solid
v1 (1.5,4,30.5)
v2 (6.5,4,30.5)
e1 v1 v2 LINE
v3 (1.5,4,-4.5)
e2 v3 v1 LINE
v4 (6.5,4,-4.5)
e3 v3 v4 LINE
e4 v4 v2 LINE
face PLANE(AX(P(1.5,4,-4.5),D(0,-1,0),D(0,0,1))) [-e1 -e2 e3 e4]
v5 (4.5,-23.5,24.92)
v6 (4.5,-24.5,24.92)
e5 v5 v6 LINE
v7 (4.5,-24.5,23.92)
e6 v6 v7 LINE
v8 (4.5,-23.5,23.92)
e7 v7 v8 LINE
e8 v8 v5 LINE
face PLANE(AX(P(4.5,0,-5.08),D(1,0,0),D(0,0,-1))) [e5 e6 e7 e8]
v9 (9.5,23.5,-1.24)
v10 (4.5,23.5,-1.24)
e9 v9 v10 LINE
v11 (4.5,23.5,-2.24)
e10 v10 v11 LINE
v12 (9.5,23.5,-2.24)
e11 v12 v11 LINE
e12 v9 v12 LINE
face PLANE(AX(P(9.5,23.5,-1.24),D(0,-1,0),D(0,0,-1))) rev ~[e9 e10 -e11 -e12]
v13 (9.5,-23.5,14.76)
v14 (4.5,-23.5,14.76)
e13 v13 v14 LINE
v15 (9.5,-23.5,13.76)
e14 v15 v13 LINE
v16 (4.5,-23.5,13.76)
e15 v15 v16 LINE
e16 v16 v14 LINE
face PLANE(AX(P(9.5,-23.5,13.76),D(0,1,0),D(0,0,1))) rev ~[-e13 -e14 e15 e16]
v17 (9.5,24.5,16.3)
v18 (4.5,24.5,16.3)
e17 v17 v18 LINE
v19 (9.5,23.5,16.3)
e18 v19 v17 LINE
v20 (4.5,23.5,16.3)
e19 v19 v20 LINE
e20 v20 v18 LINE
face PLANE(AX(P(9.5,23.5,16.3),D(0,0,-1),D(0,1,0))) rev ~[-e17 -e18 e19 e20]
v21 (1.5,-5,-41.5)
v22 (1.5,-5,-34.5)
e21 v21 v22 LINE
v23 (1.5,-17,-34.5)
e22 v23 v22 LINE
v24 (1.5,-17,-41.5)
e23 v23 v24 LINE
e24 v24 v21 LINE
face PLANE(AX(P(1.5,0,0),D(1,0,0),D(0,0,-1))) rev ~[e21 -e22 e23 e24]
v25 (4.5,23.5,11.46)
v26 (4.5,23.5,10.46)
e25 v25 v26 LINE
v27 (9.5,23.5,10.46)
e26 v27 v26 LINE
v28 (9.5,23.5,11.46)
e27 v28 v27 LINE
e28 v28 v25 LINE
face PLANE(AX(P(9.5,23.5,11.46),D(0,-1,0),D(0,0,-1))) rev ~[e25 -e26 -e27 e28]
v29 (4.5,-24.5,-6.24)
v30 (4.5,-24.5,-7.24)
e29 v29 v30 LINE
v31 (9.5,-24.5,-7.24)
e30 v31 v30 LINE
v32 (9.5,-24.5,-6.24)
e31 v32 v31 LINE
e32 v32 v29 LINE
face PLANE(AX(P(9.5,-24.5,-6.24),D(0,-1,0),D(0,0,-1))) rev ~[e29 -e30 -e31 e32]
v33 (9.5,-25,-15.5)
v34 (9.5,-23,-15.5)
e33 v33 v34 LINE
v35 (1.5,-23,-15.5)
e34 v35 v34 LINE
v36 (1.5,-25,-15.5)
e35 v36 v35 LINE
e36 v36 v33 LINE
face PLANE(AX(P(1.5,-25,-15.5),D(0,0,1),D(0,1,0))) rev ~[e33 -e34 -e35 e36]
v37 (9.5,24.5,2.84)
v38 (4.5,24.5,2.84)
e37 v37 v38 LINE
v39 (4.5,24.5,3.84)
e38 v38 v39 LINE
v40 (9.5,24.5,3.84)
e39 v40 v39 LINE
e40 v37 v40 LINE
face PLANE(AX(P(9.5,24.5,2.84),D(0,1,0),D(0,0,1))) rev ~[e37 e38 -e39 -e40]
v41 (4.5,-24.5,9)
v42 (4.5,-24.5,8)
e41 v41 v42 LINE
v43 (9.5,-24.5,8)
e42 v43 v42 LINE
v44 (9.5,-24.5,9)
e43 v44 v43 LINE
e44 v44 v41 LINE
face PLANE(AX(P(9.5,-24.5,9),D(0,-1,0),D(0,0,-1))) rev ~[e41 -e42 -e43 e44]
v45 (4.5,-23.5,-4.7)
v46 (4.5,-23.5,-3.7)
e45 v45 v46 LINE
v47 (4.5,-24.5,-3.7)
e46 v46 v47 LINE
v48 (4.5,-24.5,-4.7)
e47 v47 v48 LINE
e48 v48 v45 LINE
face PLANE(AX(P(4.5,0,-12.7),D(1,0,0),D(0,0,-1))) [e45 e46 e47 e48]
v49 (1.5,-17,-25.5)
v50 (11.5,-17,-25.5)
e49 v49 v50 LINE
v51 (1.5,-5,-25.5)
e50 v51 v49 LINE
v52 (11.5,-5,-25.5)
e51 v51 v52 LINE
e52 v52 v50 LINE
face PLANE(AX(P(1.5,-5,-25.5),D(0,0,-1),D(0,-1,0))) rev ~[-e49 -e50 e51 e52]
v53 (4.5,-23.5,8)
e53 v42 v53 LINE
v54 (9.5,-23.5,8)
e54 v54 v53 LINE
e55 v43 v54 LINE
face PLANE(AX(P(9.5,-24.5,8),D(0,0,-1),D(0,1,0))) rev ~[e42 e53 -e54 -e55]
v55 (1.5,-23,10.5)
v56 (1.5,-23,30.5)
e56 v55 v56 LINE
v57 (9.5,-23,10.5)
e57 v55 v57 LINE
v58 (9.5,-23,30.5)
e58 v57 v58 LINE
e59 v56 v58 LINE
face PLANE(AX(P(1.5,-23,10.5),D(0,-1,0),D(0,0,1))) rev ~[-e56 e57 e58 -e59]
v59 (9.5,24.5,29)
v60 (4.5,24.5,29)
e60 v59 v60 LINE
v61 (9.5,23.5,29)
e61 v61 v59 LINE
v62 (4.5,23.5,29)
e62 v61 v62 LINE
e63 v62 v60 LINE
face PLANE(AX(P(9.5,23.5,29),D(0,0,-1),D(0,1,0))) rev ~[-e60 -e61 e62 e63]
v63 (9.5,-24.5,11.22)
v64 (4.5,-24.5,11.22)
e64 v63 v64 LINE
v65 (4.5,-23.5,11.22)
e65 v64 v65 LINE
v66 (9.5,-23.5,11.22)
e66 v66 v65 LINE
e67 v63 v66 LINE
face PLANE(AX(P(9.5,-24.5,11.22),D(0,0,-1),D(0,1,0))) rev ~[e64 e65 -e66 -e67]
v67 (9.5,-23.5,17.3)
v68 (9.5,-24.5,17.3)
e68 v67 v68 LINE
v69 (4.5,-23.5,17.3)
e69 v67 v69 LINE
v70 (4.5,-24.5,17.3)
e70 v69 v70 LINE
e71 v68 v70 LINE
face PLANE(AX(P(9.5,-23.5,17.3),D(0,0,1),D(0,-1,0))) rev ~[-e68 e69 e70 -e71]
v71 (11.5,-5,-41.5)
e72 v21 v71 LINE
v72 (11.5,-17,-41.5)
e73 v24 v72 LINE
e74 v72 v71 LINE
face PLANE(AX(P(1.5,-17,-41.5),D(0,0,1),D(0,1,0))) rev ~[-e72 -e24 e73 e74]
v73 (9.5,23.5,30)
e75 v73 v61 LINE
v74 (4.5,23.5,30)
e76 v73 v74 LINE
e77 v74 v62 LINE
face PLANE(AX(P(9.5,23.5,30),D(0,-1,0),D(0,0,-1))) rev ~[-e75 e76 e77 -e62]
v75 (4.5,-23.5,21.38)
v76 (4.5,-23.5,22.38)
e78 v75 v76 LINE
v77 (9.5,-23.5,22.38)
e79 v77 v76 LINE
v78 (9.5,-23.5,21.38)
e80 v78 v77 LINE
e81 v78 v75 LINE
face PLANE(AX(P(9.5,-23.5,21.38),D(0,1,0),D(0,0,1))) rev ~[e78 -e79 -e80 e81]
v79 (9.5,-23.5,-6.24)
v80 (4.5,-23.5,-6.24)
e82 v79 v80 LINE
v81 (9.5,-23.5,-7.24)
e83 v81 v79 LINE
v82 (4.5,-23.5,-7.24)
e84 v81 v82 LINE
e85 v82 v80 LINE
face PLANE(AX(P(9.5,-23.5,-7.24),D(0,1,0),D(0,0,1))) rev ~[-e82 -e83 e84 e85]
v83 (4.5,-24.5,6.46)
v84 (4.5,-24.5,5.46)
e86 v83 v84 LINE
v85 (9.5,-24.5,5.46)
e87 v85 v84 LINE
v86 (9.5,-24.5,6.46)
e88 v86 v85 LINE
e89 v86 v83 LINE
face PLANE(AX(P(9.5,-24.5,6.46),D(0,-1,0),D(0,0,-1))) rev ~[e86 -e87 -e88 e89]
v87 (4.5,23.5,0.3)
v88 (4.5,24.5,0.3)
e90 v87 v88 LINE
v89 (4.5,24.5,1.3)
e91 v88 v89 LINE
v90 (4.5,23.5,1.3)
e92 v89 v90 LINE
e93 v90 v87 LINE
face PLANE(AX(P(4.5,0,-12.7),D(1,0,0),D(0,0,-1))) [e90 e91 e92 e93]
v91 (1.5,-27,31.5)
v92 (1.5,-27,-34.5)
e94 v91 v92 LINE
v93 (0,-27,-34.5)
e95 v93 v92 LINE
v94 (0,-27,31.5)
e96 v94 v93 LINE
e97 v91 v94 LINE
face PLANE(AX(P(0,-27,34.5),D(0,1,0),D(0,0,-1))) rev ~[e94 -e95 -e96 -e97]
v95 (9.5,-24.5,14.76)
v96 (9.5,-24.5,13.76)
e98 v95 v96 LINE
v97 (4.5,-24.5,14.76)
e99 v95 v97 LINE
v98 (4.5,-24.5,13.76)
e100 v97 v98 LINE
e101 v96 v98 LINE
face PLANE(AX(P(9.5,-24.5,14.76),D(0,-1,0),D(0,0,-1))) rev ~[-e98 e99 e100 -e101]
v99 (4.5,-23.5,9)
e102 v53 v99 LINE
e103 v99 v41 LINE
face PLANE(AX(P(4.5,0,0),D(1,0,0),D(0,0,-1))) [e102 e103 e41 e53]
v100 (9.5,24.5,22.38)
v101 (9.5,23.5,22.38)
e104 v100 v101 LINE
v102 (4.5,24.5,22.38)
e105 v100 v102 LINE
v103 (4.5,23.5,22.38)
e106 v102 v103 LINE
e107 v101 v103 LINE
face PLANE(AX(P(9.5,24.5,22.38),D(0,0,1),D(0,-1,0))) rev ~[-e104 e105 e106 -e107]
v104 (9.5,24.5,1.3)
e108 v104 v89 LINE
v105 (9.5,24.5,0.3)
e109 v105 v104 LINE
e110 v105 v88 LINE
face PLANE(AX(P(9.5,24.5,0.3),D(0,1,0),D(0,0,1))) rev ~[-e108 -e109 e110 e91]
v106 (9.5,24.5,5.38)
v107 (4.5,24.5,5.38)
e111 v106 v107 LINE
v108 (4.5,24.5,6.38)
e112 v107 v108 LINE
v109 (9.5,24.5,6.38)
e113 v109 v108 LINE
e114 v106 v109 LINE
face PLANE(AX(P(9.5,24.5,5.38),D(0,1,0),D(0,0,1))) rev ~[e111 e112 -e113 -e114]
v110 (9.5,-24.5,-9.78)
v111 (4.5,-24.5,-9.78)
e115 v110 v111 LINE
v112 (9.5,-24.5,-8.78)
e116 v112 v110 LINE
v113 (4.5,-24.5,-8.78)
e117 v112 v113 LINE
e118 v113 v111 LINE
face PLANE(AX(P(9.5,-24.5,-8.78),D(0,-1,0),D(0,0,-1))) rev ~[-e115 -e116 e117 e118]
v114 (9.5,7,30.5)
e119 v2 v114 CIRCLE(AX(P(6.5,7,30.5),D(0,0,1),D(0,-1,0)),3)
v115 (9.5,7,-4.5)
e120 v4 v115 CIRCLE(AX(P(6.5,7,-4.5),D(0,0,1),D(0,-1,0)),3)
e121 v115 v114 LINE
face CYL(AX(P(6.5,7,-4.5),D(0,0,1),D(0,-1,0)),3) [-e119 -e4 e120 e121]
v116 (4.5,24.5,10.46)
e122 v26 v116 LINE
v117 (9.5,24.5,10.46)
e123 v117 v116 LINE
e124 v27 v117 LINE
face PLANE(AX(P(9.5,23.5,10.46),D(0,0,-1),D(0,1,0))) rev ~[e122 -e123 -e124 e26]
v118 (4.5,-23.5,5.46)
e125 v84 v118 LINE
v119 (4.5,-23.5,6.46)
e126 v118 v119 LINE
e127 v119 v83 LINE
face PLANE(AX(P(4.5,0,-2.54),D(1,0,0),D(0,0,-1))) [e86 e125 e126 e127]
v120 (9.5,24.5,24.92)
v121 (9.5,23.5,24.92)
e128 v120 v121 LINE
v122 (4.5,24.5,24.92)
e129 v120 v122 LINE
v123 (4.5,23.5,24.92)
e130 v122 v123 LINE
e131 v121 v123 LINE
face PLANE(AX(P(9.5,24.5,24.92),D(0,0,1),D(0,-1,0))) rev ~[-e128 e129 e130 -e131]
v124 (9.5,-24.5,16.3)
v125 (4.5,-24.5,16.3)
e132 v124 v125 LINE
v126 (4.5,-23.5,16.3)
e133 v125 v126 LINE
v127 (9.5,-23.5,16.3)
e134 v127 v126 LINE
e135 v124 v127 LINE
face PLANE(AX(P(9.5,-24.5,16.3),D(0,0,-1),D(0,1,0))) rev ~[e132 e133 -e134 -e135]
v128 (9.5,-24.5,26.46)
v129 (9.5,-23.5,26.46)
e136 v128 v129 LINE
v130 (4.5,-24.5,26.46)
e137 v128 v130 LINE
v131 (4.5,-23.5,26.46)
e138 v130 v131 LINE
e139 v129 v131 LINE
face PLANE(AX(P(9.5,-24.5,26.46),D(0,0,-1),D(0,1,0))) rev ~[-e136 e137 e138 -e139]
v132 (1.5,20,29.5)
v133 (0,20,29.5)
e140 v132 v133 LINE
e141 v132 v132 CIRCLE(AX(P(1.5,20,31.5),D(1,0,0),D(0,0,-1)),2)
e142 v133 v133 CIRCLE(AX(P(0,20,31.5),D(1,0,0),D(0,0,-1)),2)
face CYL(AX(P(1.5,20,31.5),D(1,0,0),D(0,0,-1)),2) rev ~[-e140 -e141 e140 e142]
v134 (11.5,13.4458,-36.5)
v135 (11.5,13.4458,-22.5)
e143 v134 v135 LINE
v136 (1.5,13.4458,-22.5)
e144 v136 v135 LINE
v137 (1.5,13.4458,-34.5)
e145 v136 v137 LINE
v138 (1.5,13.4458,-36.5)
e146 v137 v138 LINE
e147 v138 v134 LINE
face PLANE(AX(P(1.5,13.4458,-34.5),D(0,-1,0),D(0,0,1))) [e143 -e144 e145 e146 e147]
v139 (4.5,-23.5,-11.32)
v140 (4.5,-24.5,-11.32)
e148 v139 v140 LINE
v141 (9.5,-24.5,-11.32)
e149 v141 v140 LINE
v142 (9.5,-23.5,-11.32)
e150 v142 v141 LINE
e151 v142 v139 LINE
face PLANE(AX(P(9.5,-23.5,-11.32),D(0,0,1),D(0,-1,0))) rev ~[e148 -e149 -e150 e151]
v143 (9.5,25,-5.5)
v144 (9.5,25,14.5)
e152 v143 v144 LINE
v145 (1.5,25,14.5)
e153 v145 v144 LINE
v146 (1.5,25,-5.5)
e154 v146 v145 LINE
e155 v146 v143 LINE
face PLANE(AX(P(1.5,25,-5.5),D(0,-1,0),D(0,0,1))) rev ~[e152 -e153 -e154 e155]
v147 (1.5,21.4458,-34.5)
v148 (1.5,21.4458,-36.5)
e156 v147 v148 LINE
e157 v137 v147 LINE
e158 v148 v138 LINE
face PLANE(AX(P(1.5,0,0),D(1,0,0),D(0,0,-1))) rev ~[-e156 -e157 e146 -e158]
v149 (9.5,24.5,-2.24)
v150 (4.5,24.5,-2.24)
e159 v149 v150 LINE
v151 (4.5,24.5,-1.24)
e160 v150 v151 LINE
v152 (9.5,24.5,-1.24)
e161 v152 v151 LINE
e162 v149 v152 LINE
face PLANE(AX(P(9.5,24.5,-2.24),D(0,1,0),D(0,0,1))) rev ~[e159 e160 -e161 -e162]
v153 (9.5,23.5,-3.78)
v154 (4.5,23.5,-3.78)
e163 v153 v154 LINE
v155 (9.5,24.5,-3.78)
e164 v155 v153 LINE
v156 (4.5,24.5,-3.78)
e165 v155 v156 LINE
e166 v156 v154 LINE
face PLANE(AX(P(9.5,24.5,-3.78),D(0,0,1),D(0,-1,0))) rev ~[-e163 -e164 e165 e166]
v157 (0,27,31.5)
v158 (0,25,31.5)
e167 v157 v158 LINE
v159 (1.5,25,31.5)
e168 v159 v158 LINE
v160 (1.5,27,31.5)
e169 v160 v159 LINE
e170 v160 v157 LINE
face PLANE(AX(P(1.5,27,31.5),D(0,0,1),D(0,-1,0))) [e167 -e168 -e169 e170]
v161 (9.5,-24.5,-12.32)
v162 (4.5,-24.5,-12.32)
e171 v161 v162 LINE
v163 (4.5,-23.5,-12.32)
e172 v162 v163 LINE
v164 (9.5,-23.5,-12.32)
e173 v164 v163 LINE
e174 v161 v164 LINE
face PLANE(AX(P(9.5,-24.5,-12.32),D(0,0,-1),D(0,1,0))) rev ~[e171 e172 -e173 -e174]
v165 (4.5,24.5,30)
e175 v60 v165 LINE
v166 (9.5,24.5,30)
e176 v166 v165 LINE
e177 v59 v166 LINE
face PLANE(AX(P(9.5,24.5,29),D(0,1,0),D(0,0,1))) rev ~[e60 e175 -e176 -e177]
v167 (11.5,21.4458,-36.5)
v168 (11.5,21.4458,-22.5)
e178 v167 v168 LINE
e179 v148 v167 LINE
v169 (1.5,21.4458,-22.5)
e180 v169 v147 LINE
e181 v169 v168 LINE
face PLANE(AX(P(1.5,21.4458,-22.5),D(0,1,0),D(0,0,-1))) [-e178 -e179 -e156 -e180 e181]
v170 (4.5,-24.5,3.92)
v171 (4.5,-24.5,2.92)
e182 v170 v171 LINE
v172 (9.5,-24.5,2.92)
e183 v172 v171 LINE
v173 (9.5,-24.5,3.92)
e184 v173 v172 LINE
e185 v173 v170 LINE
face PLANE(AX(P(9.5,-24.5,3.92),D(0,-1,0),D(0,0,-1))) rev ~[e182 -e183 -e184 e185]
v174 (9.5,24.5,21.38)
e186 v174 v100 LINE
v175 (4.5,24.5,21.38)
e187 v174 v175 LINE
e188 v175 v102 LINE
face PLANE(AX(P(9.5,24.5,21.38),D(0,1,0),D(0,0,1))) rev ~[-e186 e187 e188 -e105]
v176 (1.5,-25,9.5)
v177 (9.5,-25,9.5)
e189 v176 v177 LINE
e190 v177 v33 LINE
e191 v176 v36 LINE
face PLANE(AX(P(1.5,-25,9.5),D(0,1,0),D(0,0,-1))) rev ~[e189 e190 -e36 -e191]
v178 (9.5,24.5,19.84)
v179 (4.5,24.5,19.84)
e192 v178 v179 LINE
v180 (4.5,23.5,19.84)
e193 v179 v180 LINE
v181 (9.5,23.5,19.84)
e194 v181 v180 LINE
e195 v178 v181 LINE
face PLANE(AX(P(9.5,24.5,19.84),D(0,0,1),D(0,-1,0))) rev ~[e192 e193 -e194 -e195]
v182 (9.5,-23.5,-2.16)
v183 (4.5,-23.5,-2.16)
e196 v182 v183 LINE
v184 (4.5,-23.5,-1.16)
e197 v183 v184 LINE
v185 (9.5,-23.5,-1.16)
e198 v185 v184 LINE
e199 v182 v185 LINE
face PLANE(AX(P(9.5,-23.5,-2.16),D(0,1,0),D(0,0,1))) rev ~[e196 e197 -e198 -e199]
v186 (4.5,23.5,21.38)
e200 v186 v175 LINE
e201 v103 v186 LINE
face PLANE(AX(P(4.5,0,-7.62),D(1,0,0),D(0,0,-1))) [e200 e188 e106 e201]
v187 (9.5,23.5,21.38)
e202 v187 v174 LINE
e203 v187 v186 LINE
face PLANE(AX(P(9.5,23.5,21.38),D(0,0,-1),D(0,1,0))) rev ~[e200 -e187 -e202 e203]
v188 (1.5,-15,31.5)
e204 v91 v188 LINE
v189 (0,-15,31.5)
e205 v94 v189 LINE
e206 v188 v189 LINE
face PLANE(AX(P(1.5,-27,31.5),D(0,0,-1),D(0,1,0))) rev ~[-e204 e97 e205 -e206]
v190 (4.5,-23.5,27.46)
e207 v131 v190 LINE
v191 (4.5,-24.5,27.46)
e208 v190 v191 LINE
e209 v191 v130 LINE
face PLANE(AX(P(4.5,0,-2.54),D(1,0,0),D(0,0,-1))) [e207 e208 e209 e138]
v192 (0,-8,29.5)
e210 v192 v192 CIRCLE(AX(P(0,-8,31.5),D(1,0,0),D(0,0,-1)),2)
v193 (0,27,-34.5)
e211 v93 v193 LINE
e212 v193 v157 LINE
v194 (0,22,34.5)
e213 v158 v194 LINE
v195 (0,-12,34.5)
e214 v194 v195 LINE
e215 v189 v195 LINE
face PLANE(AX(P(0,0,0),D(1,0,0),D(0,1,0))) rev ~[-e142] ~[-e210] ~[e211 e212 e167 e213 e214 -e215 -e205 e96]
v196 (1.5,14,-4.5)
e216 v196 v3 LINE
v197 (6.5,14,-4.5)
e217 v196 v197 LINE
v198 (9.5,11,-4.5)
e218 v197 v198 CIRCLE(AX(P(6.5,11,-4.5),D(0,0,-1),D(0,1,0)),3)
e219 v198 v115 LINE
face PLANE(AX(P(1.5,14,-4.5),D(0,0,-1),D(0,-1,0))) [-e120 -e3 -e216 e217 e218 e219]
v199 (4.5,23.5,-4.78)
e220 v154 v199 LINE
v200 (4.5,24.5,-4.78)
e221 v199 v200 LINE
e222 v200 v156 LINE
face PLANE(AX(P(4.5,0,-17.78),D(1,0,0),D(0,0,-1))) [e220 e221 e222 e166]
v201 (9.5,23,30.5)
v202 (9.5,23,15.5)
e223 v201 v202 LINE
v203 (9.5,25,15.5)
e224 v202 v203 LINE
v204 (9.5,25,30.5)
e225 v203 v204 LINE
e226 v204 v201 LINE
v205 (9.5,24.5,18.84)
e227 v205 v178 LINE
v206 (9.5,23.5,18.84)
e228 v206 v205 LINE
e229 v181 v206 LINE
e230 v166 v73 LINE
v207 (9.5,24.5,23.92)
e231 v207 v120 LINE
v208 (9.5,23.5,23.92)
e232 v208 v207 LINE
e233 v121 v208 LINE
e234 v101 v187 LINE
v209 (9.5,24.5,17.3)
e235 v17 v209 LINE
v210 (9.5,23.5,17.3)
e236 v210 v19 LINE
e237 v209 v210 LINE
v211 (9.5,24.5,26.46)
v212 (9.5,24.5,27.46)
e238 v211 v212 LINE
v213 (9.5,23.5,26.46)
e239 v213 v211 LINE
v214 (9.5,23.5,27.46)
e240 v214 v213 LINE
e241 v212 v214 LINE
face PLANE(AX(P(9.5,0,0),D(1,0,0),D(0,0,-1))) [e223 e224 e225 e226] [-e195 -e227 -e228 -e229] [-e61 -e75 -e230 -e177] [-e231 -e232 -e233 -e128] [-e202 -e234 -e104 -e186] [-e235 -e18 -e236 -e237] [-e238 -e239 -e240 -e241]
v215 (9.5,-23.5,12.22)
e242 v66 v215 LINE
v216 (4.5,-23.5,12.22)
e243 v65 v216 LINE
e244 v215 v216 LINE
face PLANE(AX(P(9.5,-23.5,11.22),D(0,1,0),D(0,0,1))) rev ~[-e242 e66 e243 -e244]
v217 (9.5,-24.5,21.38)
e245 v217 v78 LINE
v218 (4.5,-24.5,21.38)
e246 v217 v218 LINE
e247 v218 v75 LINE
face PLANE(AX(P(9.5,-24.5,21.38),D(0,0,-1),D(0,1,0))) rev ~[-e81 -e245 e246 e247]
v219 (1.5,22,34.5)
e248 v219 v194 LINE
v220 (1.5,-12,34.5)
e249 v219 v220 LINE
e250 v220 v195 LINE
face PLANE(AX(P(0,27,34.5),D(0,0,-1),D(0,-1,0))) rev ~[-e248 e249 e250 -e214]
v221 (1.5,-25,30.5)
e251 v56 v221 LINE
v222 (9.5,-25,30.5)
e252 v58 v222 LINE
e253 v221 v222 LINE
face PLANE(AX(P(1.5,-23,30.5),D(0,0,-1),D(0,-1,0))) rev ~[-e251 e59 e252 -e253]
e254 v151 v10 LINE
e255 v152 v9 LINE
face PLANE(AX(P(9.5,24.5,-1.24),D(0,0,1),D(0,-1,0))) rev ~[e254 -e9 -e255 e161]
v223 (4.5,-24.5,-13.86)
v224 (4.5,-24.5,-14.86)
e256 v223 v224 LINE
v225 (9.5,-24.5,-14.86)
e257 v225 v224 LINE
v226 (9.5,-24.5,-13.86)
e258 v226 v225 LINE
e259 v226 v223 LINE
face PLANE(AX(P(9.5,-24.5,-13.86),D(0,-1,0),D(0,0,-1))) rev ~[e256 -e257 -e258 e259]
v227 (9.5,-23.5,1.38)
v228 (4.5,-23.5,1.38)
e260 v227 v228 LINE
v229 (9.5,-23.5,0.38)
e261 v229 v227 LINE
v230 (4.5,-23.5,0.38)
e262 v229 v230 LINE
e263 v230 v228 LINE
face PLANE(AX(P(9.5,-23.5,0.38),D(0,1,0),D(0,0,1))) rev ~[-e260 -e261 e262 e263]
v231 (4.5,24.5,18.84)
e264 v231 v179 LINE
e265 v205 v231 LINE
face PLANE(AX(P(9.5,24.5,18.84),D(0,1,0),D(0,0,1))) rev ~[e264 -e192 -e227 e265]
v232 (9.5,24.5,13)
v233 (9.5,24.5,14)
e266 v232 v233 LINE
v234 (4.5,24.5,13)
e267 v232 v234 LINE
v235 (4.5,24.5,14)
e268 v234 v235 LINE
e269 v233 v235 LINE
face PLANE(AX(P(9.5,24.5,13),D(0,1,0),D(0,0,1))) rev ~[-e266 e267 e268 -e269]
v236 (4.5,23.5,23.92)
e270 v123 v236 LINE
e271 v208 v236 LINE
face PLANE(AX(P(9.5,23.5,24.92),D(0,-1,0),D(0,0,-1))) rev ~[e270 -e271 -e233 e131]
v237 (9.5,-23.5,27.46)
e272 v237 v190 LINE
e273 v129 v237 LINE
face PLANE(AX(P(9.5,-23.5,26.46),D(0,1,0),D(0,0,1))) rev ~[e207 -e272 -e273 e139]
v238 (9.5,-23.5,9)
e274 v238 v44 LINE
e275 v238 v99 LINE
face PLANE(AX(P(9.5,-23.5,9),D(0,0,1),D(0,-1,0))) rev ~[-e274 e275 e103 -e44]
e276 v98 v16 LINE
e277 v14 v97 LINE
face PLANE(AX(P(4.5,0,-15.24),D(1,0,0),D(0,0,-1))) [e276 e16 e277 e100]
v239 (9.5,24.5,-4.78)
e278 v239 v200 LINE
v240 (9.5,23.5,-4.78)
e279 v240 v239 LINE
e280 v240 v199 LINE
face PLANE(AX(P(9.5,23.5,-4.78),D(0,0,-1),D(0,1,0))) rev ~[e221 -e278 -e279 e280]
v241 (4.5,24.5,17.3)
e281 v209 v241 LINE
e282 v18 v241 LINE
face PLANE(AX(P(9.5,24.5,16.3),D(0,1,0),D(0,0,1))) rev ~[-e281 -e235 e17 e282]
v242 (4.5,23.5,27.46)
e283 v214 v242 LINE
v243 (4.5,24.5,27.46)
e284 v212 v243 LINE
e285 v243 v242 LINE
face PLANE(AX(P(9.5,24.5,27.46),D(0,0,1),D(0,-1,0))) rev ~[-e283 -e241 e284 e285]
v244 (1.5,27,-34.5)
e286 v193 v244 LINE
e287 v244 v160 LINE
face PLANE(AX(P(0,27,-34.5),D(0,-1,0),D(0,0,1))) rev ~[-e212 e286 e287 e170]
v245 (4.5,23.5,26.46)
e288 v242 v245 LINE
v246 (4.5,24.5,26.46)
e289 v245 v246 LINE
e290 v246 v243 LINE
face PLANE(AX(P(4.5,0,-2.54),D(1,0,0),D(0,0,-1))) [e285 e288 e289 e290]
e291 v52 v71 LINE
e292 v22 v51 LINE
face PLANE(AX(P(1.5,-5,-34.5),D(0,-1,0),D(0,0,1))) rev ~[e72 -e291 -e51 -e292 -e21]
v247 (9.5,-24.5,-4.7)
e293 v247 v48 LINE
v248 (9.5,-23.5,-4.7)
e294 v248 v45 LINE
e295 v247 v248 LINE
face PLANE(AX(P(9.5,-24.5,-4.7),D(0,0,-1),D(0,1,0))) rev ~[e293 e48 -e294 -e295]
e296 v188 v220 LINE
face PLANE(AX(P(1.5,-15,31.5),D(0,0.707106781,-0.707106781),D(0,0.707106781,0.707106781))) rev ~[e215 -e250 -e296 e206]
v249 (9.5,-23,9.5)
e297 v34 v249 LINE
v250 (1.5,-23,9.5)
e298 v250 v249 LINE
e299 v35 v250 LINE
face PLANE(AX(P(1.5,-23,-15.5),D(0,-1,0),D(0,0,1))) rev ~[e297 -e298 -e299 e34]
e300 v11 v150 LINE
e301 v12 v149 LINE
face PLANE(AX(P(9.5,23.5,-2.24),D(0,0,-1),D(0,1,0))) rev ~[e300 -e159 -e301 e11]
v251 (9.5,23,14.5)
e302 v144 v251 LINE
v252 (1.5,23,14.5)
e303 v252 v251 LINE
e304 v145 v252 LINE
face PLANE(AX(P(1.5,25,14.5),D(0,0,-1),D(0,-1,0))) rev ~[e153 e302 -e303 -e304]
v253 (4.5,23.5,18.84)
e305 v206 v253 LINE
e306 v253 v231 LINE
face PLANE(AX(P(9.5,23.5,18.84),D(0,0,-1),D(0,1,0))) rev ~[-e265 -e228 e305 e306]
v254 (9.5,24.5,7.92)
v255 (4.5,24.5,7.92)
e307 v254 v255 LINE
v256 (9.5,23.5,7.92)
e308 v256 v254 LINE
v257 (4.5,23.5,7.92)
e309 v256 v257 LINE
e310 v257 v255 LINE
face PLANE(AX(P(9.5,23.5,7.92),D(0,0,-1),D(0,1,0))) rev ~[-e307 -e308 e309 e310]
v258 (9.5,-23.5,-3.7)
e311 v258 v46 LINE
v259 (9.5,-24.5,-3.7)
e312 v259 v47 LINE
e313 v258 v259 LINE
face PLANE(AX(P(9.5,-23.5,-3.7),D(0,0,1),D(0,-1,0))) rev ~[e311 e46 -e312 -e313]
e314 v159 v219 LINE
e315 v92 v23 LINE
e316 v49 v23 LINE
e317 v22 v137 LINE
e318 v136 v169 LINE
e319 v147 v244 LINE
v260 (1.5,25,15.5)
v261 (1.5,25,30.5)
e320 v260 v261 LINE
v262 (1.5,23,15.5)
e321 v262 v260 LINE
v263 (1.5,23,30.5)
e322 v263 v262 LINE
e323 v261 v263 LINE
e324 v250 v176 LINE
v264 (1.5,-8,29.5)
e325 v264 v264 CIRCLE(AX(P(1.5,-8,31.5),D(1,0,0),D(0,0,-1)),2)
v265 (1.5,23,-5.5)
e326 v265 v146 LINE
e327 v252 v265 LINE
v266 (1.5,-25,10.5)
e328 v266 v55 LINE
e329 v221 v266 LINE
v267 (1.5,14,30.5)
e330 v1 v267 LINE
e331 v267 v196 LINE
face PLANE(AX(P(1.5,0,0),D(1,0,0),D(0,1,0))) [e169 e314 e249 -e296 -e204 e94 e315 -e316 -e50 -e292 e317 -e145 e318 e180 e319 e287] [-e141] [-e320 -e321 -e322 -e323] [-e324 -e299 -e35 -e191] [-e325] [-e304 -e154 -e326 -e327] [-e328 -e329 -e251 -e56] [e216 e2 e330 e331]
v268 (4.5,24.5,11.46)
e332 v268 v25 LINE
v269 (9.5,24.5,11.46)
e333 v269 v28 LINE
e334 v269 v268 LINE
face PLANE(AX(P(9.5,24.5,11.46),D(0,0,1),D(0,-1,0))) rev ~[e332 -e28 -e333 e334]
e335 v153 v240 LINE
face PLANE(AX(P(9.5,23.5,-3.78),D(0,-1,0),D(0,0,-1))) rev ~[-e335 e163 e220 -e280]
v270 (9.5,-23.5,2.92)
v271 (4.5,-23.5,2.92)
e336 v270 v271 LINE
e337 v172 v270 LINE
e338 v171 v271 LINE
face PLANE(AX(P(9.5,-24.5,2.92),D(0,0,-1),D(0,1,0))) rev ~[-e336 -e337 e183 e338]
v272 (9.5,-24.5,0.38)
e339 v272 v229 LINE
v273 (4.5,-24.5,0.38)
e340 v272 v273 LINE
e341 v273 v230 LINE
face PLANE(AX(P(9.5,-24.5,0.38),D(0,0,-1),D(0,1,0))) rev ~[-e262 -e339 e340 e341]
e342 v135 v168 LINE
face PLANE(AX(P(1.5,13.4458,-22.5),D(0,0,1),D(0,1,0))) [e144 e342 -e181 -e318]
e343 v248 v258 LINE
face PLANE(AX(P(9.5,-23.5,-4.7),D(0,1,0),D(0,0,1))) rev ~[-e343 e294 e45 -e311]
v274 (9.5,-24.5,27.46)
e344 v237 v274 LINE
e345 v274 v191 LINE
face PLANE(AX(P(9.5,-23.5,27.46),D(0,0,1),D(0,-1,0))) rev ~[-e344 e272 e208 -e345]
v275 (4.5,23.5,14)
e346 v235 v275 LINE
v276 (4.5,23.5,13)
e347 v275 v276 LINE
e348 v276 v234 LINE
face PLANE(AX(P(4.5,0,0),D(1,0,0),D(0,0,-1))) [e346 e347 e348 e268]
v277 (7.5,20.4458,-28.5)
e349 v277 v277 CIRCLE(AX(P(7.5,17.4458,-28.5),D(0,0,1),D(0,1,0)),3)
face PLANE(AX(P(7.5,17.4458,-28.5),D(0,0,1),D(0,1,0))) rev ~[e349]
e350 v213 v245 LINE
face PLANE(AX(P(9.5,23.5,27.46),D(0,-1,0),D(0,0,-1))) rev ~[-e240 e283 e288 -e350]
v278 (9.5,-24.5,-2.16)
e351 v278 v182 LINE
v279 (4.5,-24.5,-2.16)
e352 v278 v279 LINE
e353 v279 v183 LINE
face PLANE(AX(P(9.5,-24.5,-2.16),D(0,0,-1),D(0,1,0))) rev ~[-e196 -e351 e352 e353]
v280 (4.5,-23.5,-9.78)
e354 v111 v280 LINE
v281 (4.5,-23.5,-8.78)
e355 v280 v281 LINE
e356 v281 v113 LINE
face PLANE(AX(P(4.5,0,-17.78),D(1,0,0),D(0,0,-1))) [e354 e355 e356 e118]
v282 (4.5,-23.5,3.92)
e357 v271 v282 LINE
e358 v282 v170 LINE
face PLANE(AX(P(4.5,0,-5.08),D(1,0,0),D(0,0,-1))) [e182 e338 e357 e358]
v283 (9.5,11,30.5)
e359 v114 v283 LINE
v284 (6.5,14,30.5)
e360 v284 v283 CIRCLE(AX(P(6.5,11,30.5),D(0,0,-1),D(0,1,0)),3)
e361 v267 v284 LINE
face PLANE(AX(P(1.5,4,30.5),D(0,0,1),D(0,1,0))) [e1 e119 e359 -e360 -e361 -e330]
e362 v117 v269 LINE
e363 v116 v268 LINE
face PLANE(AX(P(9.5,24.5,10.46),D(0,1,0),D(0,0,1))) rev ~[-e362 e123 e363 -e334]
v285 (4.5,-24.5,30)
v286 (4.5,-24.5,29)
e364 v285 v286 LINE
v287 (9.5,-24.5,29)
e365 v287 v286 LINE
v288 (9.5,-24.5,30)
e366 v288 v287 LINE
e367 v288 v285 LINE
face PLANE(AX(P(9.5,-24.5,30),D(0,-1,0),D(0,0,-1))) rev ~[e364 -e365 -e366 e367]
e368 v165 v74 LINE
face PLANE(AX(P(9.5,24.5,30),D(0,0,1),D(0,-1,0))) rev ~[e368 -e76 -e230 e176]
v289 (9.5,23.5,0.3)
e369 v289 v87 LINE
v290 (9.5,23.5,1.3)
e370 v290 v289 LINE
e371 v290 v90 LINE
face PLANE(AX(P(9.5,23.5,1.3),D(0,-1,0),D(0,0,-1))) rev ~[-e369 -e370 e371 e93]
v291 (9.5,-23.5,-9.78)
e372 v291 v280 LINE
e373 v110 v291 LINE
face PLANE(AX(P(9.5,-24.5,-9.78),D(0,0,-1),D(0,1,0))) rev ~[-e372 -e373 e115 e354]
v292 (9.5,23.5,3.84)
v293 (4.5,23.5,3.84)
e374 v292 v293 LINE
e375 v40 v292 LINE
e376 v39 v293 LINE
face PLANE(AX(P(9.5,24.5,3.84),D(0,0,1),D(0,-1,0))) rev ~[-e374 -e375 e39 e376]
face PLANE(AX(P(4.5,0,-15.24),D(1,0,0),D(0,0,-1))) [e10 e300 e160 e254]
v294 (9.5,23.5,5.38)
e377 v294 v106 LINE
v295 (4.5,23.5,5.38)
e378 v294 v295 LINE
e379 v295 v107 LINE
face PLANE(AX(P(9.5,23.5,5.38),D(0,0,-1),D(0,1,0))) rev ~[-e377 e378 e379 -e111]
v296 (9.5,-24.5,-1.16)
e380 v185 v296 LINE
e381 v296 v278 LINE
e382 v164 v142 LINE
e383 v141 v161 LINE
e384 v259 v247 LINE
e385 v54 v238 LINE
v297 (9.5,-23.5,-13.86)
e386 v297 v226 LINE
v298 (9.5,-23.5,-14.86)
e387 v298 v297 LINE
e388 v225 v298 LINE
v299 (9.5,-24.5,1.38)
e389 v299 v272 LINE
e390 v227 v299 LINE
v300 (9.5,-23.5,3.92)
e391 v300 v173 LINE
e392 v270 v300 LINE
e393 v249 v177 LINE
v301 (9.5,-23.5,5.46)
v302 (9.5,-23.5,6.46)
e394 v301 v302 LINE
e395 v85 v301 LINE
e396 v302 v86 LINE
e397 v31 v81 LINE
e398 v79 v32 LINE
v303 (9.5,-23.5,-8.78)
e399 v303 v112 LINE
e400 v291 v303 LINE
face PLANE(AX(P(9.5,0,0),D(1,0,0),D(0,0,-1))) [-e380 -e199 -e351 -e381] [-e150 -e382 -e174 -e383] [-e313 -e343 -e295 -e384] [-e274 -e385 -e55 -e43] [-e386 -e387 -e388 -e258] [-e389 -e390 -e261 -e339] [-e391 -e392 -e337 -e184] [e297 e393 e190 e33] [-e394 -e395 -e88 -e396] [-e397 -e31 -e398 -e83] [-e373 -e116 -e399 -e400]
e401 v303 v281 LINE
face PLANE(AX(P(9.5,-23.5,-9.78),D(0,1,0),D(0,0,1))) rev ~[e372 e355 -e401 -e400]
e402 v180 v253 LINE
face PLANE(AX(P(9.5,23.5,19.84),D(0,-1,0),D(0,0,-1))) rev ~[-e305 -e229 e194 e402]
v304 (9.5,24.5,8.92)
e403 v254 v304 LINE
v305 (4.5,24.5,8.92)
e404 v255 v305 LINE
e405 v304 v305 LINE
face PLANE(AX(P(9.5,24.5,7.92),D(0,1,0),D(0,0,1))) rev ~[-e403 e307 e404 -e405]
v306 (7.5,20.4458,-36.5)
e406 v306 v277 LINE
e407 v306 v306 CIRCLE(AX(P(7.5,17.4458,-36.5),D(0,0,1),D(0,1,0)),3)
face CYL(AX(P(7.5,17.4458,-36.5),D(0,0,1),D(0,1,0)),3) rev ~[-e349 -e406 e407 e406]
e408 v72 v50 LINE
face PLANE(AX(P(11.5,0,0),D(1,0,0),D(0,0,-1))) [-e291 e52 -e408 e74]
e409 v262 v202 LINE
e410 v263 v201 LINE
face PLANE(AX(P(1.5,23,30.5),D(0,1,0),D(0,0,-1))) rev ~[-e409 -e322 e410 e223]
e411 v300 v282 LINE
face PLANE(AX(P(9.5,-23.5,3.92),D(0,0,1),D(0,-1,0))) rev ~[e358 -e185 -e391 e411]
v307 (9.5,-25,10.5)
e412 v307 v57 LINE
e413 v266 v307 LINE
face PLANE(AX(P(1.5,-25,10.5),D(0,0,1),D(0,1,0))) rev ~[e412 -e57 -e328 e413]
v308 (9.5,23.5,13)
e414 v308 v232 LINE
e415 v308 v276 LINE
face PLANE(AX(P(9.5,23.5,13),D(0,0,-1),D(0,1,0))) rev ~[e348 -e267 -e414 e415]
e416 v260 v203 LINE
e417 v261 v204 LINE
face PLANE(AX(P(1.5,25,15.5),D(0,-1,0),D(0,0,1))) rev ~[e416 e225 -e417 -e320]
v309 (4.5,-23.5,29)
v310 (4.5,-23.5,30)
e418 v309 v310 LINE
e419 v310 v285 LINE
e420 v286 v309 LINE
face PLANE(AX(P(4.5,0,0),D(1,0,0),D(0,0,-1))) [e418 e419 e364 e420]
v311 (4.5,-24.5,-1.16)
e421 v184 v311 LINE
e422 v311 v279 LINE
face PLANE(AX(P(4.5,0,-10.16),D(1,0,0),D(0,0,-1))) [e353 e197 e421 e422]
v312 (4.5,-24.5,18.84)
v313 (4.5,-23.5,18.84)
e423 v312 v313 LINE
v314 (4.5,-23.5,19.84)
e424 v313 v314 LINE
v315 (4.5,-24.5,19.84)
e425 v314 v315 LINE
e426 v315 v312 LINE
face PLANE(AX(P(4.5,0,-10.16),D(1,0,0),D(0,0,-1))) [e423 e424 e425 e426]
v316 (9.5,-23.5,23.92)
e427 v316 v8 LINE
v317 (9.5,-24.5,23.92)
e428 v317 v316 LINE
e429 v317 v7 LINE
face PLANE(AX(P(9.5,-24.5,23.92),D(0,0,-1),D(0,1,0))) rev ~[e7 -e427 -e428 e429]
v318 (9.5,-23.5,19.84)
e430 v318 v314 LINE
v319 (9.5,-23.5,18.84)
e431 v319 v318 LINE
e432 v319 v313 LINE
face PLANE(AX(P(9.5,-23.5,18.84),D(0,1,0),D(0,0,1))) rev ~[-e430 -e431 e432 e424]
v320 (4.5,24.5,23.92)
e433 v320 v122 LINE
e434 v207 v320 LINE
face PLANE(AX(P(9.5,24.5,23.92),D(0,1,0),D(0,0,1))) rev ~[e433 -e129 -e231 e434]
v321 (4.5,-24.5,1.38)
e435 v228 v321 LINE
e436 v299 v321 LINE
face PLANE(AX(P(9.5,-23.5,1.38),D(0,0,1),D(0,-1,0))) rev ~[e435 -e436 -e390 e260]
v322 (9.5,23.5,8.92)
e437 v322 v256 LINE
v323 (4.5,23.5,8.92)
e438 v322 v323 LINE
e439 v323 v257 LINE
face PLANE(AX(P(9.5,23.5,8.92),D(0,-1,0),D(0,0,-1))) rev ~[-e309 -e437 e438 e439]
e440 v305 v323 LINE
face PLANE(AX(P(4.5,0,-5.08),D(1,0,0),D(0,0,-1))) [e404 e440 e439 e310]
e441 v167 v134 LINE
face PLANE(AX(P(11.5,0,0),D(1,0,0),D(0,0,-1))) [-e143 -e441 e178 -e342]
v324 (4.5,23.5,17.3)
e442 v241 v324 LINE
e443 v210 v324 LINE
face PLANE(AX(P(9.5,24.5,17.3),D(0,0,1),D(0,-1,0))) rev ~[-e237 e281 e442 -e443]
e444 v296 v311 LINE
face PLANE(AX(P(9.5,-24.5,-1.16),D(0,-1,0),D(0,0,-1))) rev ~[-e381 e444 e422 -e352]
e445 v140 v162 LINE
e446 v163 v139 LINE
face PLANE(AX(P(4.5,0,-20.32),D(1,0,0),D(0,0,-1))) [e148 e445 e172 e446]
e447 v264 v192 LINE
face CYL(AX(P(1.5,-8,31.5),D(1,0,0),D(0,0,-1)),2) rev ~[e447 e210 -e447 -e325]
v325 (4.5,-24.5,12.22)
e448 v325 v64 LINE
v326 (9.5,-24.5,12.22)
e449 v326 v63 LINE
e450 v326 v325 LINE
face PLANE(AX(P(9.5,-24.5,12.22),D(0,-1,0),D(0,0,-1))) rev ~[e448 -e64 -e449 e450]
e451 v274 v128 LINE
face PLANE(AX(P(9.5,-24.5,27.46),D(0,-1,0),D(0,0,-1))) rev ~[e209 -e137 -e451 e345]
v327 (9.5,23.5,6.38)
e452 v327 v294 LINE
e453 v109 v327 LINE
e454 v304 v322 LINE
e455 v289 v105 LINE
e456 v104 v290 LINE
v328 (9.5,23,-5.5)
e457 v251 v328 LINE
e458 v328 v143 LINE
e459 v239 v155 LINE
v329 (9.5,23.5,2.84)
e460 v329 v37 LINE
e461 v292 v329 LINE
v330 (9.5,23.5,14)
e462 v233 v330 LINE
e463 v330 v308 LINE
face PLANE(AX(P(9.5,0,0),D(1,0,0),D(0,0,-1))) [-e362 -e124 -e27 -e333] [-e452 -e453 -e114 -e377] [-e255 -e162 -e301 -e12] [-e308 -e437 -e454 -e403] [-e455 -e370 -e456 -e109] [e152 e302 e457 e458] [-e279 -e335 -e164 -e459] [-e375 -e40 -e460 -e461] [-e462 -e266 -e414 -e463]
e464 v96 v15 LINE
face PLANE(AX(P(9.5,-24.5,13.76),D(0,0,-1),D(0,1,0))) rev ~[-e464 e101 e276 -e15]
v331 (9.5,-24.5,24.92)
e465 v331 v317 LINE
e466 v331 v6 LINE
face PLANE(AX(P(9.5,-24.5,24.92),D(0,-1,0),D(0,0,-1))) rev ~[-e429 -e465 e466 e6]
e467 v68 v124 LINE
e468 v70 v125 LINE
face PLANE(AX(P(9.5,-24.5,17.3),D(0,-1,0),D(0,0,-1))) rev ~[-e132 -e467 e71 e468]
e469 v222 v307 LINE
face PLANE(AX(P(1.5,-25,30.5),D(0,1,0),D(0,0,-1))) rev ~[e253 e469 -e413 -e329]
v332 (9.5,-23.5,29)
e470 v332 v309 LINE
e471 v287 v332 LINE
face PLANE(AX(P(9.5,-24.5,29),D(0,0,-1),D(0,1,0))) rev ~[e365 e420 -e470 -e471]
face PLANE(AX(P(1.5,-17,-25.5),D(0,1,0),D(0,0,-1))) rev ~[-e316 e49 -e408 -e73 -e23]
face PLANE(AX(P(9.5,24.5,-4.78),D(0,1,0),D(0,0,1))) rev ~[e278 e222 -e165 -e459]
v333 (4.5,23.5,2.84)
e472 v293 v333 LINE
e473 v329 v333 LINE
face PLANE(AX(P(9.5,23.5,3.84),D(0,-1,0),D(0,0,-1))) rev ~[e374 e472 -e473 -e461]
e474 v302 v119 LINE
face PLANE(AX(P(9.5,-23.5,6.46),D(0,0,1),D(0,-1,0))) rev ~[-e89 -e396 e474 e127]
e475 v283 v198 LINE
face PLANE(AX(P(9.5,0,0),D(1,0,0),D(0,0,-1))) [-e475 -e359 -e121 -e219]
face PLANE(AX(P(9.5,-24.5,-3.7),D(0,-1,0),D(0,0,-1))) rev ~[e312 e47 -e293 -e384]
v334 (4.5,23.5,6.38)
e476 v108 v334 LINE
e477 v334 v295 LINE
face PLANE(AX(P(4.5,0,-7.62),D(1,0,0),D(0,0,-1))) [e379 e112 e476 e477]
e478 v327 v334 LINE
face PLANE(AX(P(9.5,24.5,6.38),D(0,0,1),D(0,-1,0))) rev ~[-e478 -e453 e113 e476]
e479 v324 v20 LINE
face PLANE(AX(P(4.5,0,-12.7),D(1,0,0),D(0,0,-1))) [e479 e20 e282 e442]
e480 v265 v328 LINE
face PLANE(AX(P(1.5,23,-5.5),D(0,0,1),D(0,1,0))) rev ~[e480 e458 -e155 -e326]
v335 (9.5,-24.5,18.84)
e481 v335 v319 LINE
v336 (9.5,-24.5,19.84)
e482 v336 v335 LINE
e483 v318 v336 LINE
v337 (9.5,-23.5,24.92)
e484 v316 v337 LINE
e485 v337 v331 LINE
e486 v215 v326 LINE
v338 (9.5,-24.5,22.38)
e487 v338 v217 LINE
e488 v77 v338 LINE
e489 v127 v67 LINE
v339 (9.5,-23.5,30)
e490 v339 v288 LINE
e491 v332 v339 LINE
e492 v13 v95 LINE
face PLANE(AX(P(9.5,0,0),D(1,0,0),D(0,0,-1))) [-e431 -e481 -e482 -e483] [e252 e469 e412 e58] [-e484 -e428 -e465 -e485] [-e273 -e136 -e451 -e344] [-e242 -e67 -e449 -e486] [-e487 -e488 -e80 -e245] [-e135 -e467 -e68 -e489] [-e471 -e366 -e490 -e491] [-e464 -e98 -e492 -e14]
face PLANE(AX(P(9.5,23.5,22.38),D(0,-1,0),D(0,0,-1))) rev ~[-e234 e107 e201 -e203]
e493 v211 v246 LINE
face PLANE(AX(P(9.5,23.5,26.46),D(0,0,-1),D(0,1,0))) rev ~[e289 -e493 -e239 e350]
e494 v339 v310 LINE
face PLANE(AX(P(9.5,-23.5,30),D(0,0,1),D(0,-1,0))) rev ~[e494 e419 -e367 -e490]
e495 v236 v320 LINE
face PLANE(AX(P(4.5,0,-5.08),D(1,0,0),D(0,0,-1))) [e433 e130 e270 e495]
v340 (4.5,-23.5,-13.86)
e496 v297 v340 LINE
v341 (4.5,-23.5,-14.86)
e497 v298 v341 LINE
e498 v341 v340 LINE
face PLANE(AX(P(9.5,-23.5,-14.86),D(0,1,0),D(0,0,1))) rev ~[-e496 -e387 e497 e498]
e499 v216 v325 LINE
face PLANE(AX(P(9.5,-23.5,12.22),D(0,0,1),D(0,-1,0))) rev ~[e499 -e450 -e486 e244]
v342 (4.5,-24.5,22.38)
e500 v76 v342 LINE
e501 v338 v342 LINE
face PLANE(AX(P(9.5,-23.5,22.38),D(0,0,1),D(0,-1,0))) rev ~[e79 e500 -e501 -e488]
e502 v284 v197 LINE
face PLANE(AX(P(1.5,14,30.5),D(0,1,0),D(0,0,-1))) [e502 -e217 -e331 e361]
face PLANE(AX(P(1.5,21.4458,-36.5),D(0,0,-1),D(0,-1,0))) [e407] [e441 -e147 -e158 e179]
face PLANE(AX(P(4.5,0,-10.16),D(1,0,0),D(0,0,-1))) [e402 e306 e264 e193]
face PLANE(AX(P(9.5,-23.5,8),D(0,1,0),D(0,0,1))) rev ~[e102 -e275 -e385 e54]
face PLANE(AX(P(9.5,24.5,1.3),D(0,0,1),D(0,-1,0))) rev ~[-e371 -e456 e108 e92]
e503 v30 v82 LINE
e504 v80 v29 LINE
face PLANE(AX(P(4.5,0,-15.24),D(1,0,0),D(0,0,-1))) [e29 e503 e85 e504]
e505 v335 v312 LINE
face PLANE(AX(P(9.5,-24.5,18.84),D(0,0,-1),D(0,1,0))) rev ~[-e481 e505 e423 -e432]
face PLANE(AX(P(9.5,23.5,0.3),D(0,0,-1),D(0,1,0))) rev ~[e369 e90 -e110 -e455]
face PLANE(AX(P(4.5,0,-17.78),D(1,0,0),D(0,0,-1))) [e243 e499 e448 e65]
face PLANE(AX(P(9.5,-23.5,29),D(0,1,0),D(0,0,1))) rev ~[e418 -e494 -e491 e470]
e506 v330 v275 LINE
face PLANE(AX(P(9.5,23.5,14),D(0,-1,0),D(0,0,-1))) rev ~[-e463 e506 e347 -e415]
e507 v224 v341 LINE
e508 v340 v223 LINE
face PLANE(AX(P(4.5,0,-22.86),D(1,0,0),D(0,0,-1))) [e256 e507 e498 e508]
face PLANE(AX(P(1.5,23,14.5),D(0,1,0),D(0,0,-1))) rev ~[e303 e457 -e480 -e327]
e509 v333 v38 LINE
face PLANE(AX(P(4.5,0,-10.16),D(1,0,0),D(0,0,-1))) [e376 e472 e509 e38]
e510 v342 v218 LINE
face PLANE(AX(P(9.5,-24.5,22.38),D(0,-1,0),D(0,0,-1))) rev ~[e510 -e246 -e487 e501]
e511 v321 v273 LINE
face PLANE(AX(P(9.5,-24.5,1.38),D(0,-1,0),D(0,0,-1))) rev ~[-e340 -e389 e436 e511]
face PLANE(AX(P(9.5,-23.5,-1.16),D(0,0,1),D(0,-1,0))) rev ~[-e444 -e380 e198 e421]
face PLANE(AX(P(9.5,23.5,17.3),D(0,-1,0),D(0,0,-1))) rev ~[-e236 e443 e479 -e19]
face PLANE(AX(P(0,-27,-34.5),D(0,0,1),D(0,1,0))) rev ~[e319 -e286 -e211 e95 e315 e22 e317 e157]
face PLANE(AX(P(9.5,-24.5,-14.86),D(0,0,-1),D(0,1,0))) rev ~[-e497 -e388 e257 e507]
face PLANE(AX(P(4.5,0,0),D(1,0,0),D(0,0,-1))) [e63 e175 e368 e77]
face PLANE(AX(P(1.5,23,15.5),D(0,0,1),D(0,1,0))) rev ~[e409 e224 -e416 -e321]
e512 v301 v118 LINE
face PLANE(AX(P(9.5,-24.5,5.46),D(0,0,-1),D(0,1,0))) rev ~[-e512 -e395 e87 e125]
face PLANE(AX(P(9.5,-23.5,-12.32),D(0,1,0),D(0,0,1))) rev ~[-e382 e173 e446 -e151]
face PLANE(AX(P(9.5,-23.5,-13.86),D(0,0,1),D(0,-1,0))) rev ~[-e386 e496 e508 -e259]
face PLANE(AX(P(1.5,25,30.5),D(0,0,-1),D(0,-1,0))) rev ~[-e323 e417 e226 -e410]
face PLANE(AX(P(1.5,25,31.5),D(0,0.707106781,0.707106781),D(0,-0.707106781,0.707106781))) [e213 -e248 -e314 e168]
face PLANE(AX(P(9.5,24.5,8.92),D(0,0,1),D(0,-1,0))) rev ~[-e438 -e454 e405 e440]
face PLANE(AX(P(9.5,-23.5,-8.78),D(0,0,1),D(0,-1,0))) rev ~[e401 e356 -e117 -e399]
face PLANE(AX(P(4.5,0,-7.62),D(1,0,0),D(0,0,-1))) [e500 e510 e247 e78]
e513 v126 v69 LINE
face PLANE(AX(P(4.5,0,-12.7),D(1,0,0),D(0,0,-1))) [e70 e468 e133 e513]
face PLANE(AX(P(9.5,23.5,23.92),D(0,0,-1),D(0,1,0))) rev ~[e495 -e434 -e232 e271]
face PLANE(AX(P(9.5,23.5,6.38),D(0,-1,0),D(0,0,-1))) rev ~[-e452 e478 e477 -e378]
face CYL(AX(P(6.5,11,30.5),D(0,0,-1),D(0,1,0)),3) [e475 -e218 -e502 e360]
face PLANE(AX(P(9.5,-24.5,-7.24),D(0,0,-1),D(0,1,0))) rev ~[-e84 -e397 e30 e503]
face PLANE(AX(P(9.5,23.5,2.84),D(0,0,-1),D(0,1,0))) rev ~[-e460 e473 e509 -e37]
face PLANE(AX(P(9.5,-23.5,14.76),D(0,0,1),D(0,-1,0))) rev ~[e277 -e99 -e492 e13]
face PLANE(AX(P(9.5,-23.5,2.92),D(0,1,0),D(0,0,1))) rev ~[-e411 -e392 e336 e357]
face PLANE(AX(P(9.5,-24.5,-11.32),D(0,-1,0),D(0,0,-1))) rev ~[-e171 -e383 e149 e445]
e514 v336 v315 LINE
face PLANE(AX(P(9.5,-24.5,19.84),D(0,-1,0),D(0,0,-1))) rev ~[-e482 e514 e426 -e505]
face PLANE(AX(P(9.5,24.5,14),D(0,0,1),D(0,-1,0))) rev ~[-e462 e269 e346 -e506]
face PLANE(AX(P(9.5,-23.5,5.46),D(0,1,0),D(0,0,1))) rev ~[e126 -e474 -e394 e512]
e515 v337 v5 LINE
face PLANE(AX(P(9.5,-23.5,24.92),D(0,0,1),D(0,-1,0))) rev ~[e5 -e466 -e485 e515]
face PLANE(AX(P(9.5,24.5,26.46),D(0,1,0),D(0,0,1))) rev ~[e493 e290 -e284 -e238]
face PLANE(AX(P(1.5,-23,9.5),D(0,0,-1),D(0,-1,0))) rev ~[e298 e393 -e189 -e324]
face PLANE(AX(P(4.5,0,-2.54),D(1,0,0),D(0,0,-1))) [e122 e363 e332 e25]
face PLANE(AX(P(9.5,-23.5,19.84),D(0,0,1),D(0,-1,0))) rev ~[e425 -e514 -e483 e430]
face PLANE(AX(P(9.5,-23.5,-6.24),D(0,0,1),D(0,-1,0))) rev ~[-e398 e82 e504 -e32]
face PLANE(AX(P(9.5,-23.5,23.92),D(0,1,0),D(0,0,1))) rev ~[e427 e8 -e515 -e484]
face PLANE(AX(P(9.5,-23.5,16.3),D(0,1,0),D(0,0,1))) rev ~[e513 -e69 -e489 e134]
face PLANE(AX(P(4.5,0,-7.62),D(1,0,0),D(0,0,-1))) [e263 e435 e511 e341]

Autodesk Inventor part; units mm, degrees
ref_plane "YZ Plane" through (0, 0, 0) normal (1, 0, 0) x (0, 1, 0)
ref_plane "XZ Plane" through (0, 0, 0) normal (0, 1, 0) x (-1, 0, 0)
ref_plane "XY Plane" through (0, 0, 0) normal (0, 0, 1) x (1, 0, 0)
sketch "Sketch1" plane through (0, 0, 0) normal (1, 0, 0) x (0, 1, 0)
  line L0 (27, 34.5) -> (-27, 34.5)
  line L1 (-27, 34.5) -> (-27, -34.5)
  line L2 (-27, -34.5) -> (27, -34.5)
  line L3 (27, -34.5) -> (27, 34.5)
  point P0 (0, 0)
  dimension "d0" = 69
  dimension "d1" = 54
  dimension "d2" = 27
  dimension "d3" = 34.5
extrude "Extrusion1" add sketch "Sketch1" along normal blind 1.5
sketch "Sketch3" plane through (1.5, 0, 0) normal (1, 0, 0) x (0, 0, -1)
  line L0 (34.5, 27) -> (-34.5, 27) projected
  line L1 (-31.5, 27) -> (-31.5, 25)
  line L2 (-31.5, 25) -> (-34.5, 22)
  line L3 (-34.5, 22) -> (-37.1788, 22)
  line L4 (-37.1788, 22) -> (-37.1788, 31.2175)
  line L5 (-37.1788, 31.2175) -> (-31.5, 31.2175)
  line L6 (-31.5, 31.2175) -> (-31.5, 27)
  line L7 (-34.5, -27) -> (34.5, -27) projected
  line L8 (-31.5, -27) -> (-31.5, -15)
  line L9 (-31.5, -15) -> (-34.5, -12)
  line L10 (-34.5, -12) -> (-38.8547, -12)
  line L11 (-38.8547, -12) -> (-38.8547, -36.3938)
  line L12 (-38.8547, -36.3938) -> (-31.5, -36.3938)
  line L13 (-31.5, -36.3938) -> (-31.5, -27)
  line L14 (-34.5, 27) -> (-34.5, -27) projected
  point P0 (0, 0)
  dimension "d12" = 3
  dimension "d13" = 12
  dimension "d14" = 3
  dimension "d15" = 3
  dimension "d16" = 2
extrude "Extrusion2" cut sketch "Sketch3" against normal blind 1.5 contours L1 L2 L14 L0 | L9 L8 L7 L14
sketch "Sketch4" plane through (1.5, 0, 0) normal (1, 0, 0) x (0, 0, -1)
  circle A0 centre (-31.5, 20) radius 2
  circle A1 centre (-31.5, -8) radius 2
  line L0 (34.5, 27) -> (-31.5, 27) projected
  line L1 (-34.5, 22) -> (-34.5, -12) projected
  point P0 (0, 0)
  dimension "d19" = 4
  dimension "d20" = 4
  dimension "d21" = 28
  dimension "d22" = 7
  dimension "d25" = 3
  dimension "d26" = 3
extrude "Extrusion3" cut sketch "Sketch4" against normal blind 1.5
sketch "Sketch5" plane through (1.5, 0, 0) normal (1, 0, 0) x (0, 0, -1)
  line L0 (-30.5, -25) -> (-10.5, -25)
  line L1 (-10.5, -25) -> (-10.5, -23)
  line L2 (-10.5, -23) -> (-30.5, -23)
  line L3 (-30.5, -23) -> (-30.5, -25)
  line L4 (-9.5, -25) -> (15.5, -25)
  line L5 (15.5, -25) -> (15.5, -23)
  line L6 (15.5, -23) -> (-9.5, -23)
  line L7 (-9.5, -23) -> (-9.5, -25)
  line L8 (-30.5, 23) -> (-15.5, 23)
  line L9 (-15.5, 23) -> (-15.5, 25)
  line L10 (-15.5, 25) -> (-30.5, 25)
  line L11 (-30.5, 25) -> (-30.5, 23)
  line L12 (-14.5, 23) -> (5.5, 23)
  line L13 (5.5, 23) -> (5.5, 25)
  line L14 (5.5, 25) -> (-14.5, 25)
  line L15 (-14.5, 25) -> (-14.5, 23)
  line L16 (-31.5, -27) -> (34.5, -27) projected
  line L17 (-31.5, -15) -> (-31.5, -27) projected
  line L18 (34.5, 27) -> (-31.5, 27) projected
  line L19 (-31.5, 27) -> (-31.5, 25) projected
  point P0 (0, 0)
  dimension "d27" = 2
  dimension "d29" = 4
  dimension "d31" = 20
  dimension "d32" = 21
  dimension "d33" = 25
  dimension "d34" = 1
  dimension "d36" = 2
  dimension "d39" = 4
  dimension "d40" = 1
  dimension "d41" = 1
  dimension "d42" = 20
  dimension "d43" = 15
extrude "Extrusion4" add sketch "Sketch5" along normal blind 8
sketch "Sketch6" plane through (9.5, 0, 0) normal (1, 0, 0) x (0, 0, -1)
  line L0 (-30, -24.5) -> (-29, -24.5)
  line L1 (-29, -24.5) -> (-29, -23.5)
  line L2 (-29, -23.5) -> (-30, -23.5)
  line L3 (-30, -23.5) -> (-30, -24.5)
  line L4 (-10.5, -23) -> (-30.5, -23) projected
  line L5 (-30.5, -23) -> (-30.5, -25) projected
  point P0 (0, 0)
  dimension "d46" = 1
  dimension "d47" = 1
  dimension "d48" = 0.5
  dimension "d50" = 1.5
extrude "Extrusion5" cut sketch "Sketch6" against normal blind 5
pattern_linear "Rectangular Pattern1" count 8 spacing 2.54 along (0, 0, -1) of "Extrusion5"
sketch "Sketch7" plane through (9.5, 0, 0) normal (1, 0, 0) x (0, 0, -1)
  line L0 (-9, -24.5) -> (-8, -24.5)
  line L1 (-8, -24.5) -> (-8, -23.5)
  line L2 (-8, -23.5) -> (-9, -23.5)
  line L3 (-9, -23.5) -> (-9, -24.5)
  line L4 (-9.5, -23) -> (-9.5, -25) projected
  line L5 (-9.5, -25) -> (15.5, -25) projected
  point P0 (0, 0)
  dimension "d56" = 0.5
  dimension "d57" = 0.5
  dimension "d58" = 1
  dimension "d59" = 1
extrude "Extrusion6" cut sketch "Sketch7" against normal blind 5
sketch "Sketch8" plane through (9.5, 0, 0) normal (1, 0, 0) x (0, 0, -1)
  line L0 (-13, 24.5) -> (-14, 24.5)
  line L1 (-14, 24.5) -> (-14, 23.5)
  line L2 (-14, 23.5) -> (-13, 23.5)
  line L3 (-13, 23.5) -> (-13, 24.5)
  line L4 (-14.5, 25) -> (-14.5, 23) projected
  line L5 (-14.5, 23) -> (5.5, 23) projected
  point P0 (0, 0)
  dimension "d62" = 0.5
  dimension "d63" = 0.5
  dimension "d64" = 1
  dimension "d65" = 1
extrude "Extrusion7" cut sketch "Sketch8" against normal blind 5
sketch "Sketch9" plane through (9.5, 0, 0) normal (1, 0, 0) x (0, 0, -1)
  line L0 (-29, 24.5) -> (-30, 24.5)
  line L1 (-30, 24.5) -> (-30, 23.5)
  line L2 (-30, 23.5) -> (-29, 23.5)
  line L3 (-29, 23.5) -> (-29, 24.5)
  line L4 (-30.5, 25) -> (-30.5, 23) projected
  line L5 (-30.5, 23) -> (-15.5, 23) projected
  point P0 (0, 0)
  dimension "d68" = 0.5
  dimension "d69" = 0.5
  dimension "d70" = 1
  dimension "d71" = 1
extrude "Extrusion8" cut sketch "Sketch9" against normal blind 5
pattern_linear "Rectangular Pattern2" count 10 spacing 2.54 along (0, 0, -1) of "Extrusion6"
pattern_linear "Rectangular Pattern3" count 6 spacing 2.54 along (0, 0, -1) of "Extrusion8"
pattern_linear "Rectangular Pattern4" count 8 spacing 2.54 along (0, 0, -1) of "Extrusion7"
sketch "Sketch10" plane through (1.5, 0, 0) normal (1, 0, 0) x (0, 0, -1)
  line L0 (-30.5, 14) -> (4.5, 14)
  line L1 (4.5, 14) -> (4.5, 4)
  line L2 (4.5, 4) -> (-30.5, 4)
  line L3 (-30.5, 4) -> (-30.5, 14)
  line L4 (-14.5, 23) -> (5.5, 23) projected
  line L5 (-34.5, 22) -> (-34.5, -12) projected
  point P0 (0, 0)
  dimension "d86" = 9
  dimension "d87" = 10
  dimension "d88" = 35
  dimension "d89" = 4
extrude "Extrusion9" add sketch "Sketch10" along normal blind 8
fillet "Fillet1" radius 3 2 edges at (9.5, 14, 13) (9.5, 4, 13)
sketch "Sketch11" plane through (1.5, 0, 0) normal (1, 0, 0) x (0, 0, -1)
  line L0 (25.5, -17) -> (41.5, -17)
  line L1 (41.5, -17) -> (41.5, -5)
  line L2 (41.5, -5) -> (25.5, -5)
  line L3 (25.5, -5) -> (25.5, -17)
  line L4 (-31.5, -27) -> (34.5, -27) projected
  line L5 (22.5, 21.4458) -> (36.5, 21.4458)
  line L6 (36.5, 21.4458) -> (36.5, 13.4458)
  line L7 (36.5, 13.4458) -> (22.5, 13.4458)
  line L8 (22.5, 13.4458) -> (22.5, 21.4458)
  line L9 (34.5, -27) -> (34.5, 27) projected
  point P0 (0, 0)
  dimension "d93" = 10
  dimension "d94" = 12
  dimension "d95" = 16
  dimension "d96" = 7
  dimension "d97" = 14
  dimension "d98" = 8
  dimension "d99" = 2
extrude "Extrusion10" add sketch "Sketch11" along normal blind 10
sketch "Sketch12" plane through (1.5, 13.4458, -36.5) normal (0, 0, -1) x (-1, 0, 0)
  line L0 (-10, 0) -> (-10, 8) projected
  line L1 (0, 8) -> (-10, 8) projected
  point P0 (1.5, -13.4458)
  point P1 (-6, 4)
  dimension "d109" = 4
  dimension "d110" = 4
hole "Hole1" at (7.5, 17.4458, -36.5) direction (0, 0, 1) diameter 6 depth 8
properties part number "Arduino1"
